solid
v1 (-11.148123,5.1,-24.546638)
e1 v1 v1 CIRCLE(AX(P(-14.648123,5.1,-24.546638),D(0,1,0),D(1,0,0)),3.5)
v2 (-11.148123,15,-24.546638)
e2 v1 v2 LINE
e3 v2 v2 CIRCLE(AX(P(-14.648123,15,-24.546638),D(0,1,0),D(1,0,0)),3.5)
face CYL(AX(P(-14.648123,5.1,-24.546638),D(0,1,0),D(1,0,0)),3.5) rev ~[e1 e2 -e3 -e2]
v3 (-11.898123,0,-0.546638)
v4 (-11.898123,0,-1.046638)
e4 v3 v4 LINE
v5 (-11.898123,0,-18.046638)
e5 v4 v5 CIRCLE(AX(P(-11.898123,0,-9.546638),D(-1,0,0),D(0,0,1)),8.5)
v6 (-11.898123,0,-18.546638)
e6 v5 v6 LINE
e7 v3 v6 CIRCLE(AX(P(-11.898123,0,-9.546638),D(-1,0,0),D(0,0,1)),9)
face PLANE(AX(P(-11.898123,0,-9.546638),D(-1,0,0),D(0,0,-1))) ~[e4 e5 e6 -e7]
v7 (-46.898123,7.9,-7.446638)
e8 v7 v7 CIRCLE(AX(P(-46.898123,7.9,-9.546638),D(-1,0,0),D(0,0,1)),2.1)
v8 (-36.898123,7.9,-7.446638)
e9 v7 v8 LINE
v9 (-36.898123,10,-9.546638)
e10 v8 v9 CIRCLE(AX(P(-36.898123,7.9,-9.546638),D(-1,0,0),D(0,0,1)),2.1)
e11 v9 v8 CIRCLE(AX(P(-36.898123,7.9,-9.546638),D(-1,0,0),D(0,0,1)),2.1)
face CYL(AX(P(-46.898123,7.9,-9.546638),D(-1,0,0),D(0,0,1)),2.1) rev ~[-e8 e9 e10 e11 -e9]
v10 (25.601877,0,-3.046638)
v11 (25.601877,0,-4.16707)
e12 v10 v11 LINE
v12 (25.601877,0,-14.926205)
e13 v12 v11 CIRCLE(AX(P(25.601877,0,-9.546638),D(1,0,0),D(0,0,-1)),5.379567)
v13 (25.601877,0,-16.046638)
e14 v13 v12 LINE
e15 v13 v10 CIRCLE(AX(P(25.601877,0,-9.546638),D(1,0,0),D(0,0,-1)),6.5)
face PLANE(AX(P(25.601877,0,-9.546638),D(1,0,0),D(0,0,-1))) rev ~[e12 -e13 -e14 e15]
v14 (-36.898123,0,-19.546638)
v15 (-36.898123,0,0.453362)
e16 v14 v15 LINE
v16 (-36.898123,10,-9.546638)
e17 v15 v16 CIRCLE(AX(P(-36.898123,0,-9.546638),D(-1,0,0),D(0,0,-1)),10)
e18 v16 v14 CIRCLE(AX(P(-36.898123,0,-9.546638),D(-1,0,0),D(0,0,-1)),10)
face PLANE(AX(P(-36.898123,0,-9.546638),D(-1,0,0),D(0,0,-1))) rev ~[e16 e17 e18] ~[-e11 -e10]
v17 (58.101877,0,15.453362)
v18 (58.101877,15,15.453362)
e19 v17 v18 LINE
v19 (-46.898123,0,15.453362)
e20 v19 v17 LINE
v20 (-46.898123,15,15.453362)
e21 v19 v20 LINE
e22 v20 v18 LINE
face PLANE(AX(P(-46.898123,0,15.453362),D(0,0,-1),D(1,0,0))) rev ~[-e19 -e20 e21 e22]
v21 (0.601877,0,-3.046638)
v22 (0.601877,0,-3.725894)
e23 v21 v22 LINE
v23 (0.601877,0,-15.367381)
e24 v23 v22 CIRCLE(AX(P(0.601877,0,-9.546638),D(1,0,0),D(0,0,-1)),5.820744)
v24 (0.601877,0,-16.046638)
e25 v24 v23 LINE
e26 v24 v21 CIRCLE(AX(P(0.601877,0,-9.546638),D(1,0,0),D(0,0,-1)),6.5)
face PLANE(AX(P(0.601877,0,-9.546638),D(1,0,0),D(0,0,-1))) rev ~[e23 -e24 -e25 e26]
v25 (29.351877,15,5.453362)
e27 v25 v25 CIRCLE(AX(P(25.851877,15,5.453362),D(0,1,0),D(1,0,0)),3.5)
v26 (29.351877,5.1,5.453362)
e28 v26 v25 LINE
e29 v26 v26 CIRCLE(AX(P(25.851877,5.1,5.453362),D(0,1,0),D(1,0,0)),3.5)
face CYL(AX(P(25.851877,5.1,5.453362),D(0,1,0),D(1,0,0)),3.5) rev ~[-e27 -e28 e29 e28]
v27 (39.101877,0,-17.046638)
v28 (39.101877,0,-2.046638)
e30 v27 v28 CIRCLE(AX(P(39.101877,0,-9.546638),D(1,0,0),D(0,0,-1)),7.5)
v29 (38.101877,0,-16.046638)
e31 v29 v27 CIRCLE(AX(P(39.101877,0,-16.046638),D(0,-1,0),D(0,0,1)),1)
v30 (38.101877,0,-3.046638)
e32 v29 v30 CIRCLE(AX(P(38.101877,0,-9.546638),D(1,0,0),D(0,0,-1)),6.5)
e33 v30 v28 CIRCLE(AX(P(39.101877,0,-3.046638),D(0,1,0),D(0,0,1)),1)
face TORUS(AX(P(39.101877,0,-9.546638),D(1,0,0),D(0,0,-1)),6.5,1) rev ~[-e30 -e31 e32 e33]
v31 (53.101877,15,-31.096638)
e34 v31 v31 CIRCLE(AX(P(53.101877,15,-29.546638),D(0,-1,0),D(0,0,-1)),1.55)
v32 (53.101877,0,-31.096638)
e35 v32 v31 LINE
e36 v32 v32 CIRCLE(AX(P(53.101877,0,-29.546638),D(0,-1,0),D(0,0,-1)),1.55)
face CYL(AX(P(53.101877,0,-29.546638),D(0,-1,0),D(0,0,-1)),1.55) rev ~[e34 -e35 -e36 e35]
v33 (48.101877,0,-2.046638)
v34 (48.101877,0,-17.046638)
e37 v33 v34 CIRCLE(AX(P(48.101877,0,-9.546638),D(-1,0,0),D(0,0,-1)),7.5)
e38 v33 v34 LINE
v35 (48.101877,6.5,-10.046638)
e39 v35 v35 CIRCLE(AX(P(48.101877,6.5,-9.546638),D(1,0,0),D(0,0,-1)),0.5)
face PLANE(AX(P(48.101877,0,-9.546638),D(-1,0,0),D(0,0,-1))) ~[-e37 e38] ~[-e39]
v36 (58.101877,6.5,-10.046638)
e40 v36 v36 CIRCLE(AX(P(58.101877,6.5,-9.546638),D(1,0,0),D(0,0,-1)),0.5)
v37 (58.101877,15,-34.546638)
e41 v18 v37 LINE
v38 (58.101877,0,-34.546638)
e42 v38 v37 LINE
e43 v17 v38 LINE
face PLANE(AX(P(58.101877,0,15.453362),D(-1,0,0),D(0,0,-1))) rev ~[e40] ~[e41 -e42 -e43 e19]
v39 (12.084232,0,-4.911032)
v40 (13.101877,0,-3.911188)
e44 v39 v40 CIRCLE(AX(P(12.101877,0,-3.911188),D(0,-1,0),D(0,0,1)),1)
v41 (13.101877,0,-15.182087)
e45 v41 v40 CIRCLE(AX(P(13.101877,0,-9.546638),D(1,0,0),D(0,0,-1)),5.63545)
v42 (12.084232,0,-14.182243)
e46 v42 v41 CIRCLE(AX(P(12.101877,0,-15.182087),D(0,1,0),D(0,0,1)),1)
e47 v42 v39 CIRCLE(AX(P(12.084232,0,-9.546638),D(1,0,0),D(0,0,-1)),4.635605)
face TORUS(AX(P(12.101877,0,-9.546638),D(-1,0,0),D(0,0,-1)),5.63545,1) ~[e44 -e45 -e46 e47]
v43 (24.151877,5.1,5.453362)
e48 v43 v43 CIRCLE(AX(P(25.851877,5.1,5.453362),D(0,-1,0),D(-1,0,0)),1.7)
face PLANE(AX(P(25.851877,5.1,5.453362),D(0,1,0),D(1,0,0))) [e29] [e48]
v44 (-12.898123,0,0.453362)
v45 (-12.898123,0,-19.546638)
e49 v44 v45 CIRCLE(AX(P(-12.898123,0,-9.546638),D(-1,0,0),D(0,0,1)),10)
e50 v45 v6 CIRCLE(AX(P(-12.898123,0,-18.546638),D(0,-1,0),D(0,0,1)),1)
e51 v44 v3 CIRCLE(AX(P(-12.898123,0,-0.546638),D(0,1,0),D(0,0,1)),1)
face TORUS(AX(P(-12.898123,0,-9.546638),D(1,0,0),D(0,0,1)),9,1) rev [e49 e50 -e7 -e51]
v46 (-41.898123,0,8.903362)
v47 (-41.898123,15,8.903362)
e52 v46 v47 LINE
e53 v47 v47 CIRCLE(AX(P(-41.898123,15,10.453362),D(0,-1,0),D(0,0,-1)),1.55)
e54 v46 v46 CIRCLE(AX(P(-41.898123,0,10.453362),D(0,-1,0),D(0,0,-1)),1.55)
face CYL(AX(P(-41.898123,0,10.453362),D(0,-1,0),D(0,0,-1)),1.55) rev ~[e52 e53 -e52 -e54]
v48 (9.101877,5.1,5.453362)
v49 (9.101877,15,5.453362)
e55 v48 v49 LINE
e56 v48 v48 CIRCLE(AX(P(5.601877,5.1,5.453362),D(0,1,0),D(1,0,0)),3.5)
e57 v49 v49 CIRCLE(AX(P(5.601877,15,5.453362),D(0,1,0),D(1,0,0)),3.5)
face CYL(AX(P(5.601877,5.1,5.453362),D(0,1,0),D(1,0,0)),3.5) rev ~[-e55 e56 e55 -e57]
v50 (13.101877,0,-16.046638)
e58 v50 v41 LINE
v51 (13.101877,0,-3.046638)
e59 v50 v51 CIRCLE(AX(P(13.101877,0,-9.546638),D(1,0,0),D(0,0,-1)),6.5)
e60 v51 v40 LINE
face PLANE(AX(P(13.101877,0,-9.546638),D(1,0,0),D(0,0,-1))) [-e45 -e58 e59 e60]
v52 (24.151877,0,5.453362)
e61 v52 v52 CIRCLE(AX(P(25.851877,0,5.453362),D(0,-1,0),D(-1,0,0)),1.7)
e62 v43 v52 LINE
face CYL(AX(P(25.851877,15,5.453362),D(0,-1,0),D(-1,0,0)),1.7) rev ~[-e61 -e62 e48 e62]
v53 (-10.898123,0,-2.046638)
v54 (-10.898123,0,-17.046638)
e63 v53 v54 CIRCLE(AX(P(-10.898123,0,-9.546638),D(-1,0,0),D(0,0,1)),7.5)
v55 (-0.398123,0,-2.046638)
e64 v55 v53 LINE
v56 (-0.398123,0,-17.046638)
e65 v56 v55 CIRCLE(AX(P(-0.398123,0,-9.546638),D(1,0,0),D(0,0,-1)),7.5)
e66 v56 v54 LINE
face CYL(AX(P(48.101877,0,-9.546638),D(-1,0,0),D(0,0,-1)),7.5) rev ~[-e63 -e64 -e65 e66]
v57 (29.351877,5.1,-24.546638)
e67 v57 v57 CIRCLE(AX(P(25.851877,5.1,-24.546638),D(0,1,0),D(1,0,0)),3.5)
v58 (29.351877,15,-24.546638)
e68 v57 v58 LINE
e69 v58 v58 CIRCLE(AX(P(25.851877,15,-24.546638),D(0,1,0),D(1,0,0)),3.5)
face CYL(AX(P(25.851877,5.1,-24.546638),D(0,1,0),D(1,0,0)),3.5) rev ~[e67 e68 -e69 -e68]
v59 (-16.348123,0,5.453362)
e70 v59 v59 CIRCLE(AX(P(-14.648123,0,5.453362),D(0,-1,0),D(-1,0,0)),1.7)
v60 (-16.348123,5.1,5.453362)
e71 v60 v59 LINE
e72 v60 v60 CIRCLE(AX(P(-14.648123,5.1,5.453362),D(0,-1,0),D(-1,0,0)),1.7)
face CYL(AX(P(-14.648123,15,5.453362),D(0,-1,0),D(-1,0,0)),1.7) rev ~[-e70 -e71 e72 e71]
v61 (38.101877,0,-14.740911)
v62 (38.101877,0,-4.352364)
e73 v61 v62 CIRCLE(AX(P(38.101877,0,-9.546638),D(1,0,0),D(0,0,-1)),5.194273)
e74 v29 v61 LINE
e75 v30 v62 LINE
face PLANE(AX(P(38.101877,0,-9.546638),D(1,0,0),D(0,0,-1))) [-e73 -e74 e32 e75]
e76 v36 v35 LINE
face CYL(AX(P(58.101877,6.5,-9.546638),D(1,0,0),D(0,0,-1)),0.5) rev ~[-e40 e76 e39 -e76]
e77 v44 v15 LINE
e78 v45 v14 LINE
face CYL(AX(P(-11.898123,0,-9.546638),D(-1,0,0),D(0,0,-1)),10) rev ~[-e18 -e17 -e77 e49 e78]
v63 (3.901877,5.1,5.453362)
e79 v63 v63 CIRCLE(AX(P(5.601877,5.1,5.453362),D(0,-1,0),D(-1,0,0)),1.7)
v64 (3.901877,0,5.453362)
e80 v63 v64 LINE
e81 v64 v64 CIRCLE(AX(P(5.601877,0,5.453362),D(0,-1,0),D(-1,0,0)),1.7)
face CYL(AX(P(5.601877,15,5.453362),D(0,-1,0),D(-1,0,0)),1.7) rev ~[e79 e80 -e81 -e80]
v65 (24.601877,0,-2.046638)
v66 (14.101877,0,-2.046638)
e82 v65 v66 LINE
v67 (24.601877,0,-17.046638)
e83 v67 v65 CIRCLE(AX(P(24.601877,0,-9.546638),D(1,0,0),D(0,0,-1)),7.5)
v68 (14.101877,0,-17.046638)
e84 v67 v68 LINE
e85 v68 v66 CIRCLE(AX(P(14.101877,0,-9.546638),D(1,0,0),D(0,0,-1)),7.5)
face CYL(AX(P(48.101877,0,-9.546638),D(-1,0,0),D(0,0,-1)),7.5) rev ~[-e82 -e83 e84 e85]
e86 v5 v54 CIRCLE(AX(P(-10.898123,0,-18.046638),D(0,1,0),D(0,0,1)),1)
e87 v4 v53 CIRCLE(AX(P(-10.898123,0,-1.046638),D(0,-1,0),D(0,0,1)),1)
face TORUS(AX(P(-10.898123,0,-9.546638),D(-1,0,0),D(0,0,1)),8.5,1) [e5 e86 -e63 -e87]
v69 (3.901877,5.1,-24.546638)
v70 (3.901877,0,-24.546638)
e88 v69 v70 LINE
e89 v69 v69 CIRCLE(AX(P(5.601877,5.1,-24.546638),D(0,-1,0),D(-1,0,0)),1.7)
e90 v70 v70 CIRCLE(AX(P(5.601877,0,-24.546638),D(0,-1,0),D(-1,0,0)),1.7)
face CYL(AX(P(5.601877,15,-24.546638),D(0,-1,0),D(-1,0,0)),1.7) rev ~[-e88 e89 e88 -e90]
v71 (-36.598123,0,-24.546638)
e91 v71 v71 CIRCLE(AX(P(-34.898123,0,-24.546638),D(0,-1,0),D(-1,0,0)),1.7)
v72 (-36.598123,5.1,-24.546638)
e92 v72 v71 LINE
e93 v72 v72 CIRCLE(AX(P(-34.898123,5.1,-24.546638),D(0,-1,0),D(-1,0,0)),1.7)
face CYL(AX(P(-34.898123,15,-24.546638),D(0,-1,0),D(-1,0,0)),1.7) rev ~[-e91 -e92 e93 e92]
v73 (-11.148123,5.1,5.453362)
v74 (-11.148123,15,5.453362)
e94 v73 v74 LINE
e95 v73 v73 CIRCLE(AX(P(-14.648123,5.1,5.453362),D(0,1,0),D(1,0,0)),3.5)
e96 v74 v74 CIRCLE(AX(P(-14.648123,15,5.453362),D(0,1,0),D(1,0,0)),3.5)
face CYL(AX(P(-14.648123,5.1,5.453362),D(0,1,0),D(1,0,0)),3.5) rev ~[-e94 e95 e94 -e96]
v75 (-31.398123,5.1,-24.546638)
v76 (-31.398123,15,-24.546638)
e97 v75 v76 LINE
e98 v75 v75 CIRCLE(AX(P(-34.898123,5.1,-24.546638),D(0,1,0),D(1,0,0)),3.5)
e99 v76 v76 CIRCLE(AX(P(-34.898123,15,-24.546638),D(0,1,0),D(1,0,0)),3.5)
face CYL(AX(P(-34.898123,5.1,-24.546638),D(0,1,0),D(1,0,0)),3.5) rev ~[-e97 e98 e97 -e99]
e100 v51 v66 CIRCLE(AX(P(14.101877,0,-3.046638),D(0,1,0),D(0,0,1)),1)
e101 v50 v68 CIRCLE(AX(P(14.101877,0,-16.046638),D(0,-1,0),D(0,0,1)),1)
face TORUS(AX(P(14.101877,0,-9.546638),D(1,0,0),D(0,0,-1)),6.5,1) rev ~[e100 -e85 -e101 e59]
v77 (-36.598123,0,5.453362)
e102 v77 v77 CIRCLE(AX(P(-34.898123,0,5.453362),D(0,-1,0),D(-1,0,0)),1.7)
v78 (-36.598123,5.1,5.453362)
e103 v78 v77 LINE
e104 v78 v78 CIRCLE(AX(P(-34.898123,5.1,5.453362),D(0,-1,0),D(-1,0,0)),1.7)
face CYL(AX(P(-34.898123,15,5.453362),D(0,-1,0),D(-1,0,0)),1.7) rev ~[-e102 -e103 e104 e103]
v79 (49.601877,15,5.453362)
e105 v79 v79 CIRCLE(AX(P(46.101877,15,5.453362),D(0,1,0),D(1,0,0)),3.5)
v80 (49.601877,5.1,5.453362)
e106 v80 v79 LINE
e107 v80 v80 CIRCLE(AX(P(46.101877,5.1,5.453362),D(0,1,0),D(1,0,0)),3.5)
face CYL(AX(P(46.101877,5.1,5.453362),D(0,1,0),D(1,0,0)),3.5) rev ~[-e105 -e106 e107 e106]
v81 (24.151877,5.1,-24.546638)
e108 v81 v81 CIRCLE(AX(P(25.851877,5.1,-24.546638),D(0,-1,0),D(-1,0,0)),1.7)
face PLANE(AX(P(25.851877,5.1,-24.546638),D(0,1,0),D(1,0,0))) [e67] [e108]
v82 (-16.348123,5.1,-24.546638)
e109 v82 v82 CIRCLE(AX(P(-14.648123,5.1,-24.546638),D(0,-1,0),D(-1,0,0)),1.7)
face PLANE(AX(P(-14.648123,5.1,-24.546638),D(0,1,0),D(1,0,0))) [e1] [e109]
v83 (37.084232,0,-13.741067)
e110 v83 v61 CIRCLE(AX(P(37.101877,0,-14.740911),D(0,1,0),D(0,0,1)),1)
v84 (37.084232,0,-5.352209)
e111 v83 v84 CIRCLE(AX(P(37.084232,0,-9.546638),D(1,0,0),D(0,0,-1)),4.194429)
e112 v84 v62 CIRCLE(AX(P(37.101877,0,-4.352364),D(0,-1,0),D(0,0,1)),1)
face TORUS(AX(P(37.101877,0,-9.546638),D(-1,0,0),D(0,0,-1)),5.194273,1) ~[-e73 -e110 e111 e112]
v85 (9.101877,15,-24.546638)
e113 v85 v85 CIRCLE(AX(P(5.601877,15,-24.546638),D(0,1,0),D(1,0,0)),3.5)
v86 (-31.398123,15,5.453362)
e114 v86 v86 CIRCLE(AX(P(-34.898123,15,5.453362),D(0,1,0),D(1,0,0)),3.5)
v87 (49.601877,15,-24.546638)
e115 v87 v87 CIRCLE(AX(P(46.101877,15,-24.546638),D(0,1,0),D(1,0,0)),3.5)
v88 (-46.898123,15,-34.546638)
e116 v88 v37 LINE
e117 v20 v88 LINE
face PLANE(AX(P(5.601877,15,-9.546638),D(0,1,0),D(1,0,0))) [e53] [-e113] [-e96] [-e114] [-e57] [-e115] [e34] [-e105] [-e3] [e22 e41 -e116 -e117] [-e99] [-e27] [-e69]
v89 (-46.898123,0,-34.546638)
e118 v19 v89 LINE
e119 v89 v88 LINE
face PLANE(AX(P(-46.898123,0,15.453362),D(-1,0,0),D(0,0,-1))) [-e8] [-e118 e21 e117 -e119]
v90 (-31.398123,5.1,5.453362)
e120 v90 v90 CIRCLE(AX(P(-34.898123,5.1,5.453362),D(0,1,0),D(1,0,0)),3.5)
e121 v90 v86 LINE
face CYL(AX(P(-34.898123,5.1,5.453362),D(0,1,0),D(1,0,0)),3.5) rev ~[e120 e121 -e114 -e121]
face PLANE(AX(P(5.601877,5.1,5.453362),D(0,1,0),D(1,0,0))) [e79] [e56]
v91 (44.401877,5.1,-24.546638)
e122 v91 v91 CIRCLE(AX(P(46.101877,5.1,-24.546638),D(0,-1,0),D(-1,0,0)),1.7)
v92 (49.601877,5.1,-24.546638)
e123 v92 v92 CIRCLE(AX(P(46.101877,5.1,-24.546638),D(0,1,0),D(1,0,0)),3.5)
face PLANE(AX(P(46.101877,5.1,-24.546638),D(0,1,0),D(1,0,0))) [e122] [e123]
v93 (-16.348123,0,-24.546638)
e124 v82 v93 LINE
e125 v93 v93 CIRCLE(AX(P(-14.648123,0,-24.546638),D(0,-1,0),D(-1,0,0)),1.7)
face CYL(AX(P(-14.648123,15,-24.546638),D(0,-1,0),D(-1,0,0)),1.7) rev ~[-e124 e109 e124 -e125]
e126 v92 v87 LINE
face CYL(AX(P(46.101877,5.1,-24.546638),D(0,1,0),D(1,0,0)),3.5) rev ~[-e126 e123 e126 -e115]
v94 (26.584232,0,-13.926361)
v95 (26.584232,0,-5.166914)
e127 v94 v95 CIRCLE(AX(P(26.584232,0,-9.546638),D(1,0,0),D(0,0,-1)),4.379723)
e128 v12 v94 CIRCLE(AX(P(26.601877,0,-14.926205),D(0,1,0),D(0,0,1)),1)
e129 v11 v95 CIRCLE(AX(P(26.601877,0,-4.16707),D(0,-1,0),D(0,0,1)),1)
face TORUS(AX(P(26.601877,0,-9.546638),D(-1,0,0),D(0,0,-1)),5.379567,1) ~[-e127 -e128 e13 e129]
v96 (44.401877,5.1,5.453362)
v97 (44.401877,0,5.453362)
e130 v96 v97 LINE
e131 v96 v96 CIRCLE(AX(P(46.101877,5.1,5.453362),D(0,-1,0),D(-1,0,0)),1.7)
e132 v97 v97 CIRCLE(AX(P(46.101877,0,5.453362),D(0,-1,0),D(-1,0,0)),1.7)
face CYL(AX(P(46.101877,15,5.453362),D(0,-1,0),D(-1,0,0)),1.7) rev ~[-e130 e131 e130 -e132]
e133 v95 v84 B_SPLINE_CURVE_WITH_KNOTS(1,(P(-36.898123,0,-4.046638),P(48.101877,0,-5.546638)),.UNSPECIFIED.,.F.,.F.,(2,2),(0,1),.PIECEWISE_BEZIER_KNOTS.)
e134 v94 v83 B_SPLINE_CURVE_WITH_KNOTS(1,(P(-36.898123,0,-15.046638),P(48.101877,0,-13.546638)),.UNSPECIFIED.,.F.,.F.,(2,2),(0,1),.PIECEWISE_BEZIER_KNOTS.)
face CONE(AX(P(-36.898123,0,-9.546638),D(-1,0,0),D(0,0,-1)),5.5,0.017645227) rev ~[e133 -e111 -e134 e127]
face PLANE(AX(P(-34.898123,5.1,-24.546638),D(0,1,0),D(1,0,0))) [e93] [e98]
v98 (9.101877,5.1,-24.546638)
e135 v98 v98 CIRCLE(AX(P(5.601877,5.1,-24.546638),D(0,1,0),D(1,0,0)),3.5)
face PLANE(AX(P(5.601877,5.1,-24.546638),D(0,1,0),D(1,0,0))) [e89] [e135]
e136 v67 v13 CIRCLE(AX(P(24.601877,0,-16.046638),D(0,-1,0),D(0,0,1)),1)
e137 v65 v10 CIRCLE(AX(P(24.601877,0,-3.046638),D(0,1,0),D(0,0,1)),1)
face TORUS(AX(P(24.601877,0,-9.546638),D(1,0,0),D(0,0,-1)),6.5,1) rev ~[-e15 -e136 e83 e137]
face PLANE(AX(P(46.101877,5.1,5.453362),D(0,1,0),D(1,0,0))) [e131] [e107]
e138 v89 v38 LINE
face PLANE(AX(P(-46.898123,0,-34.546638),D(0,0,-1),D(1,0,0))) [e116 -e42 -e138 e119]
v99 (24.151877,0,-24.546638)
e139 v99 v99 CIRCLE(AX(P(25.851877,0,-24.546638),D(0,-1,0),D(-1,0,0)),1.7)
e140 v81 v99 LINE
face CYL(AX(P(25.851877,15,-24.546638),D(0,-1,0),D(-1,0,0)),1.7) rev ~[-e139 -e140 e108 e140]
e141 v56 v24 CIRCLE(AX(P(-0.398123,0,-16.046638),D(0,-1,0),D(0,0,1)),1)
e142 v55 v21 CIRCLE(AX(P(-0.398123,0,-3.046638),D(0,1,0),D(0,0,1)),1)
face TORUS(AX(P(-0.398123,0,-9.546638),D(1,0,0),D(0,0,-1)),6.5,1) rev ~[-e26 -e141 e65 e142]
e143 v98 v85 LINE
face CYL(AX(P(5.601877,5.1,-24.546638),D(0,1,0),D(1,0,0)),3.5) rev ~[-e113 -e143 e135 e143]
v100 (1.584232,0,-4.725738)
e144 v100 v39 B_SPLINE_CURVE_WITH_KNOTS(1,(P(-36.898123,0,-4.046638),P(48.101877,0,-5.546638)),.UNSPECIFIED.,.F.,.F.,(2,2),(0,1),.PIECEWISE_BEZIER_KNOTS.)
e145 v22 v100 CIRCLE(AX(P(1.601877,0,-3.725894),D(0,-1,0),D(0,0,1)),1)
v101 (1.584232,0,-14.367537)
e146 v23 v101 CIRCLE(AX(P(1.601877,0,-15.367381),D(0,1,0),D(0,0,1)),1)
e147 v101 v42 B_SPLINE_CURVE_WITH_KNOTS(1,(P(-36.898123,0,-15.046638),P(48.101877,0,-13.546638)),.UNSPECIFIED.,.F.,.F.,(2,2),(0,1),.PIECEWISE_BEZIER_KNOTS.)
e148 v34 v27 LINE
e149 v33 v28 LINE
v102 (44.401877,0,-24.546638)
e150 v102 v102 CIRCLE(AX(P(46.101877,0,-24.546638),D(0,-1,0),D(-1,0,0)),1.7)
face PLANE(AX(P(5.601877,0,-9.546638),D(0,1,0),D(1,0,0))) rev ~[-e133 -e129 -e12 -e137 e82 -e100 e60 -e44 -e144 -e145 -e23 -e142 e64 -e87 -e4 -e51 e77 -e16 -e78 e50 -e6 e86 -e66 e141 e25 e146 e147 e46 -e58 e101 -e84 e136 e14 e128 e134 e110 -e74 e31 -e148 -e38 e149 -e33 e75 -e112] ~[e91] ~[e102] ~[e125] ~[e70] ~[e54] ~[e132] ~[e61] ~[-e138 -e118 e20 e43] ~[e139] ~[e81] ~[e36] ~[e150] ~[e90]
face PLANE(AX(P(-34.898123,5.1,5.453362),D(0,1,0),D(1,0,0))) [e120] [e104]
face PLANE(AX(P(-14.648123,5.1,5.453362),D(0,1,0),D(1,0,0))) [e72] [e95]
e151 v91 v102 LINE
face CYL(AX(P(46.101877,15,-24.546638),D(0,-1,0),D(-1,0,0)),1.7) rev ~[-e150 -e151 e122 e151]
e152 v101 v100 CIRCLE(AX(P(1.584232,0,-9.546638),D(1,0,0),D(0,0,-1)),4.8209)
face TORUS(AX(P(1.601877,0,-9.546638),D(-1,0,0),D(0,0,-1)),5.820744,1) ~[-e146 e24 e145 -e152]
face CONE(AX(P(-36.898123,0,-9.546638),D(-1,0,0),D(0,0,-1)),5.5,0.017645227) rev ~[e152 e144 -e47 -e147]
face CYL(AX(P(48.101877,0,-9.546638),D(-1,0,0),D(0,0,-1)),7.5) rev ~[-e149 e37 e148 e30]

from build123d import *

# Parameters (mm, degrees)
SKETCH2_W                                            = 105
SKETCH2_H                                            = 50
BOSS_EXTRUDE1_DEPTH                                  = 15
SKIZZE7_R                                            = 2.1
SCHNITT_LINEAR_AUSTRAGEN6_DEPTH                      = 10
SKIZZE10_W                                           = 12.5
SKIZZE10_H                                           = 4
ROTATION3_ANGLE                                      = 180
SKIZZE11_W                                           = 12.5
SKIZZE11_H                                           = 4
ROTATION4_ANGLE                                      = 180
CUT_EXTRUDE2_REACH                                   = 113.55
SKETCH5_R                                            = 0.5
SKIZZE14_R                                           = 5.5
SKIZZE15_R                                           = 4
VERRUNDUNG1_R                                        = 1
AUSRICHTUNGSSTIFTE_REACH                             = 71.241
SKIZZE20_R                                           = 1.55
STIRNSENKUNG_F_R_M3_FLACHKOPFSCHRAUBE_MI_D           = 3.4
STIRNSENKUNG_F_R_M3_FLACHKOPFSCHRAUBE_MI_CBORE_D     = 7
STIRNSENKUNG_F_R_M3_FLACHKOPFSCHRAUBE_MI_CBORE_DEPTH = 9.9


with BuildPart() as part:
    # Sketch2 → Boss-Extrude1 (new body)
    with BuildSketch(Plane(origin=(0, 0, 0), x_dir=(1, 0, 0), z_dir=(0, 1, 0))):
        with Locations((5.601876656, 9.54663752)):
            Rectangle(SKETCH2_W, SKETCH2_H)
    extrude(amount=BOSS_EXTRUDE1_DEPTH)

    # Skizze7 → Schnitt-Linear austragen6 (cut)
    with BuildSketch(Plane.ZY.offset(46.898123344)):
        with Locations((-9.54663752, 7.9)):
            Circle(SKIZZE7_R)
    extrude(amount=-SCHNITT_LINEAR_AUSTRAGEN6_DEPTH, mode=Mode.SUBTRACT)

    # Sketch3 → Schnitt-Rotation1 (revolve, cut)
    with BuildSketch(Plane(origin=(0, 0, 0), x_dir=(1, 0, 0), z_dir=(0, 1, 0))):
        Polygon((48.101876656, 9.54663752), (48.101876656, 17.04663752), (-11.898123344, 17.04663752), (-11.898123344, 19.54663752), (-36.898123344, 19.54663752), (-36.898123344, 9.54663752), align=None)
    revolve(axis=Axis((74.354835368, 0, -9.54663752), (-1, 0, 0)), mode=Mode.SUBTRACT)

    # Skizze10 → Rotation3 (revolve)
    with BuildSketch(Plane.XZ):
        with Locations((31.851876656, -15.04663752)):
            Rectangle(SKIZZE10_W, SKIZZE10_H)
    revolve(axis=Axis((85.744816074, 0, -9.54663752), (1, 0, 0)), revolution_arc=ROTATION3_ANGLE)

    # Skizze11 → Rotation4 (revolve)
    with BuildSketch(Plane.XZ):
        with Locations((6.851876656, -15.04663752)):
            Rectangle(SKIZZE11_W, SKIZZE11_H)
    revolve(axis=Axis((95.037830494, 0, -9.54663752), (1, 0, 0)), revolution_arc=ROTATION4_ANGLE)

    # Sketch5 → Cut-Extrude2 (cut, up to next)
    with BuildSketch(Plane(origin=(58.101876656, 0, 0), x_dir=(0, 0, -1), z_dir=(1, 0, 0)), mode=Mode.PRIVATE) as cut_extrude2_sk1:
        with Locations((9.54663752, 6.5)):
            Circle(SKETCH5_R)
    cut_extrude2_tool1 = extrude(cut_extrude2_sk1.sketch, amount=-CUT_EXTRUDE2_REACH, mode=Mode.PRIVATE) & part.part
    add(cut_extrude2_tool1.solids().sort_by_distance((58.101877, 6.5, -9.546638))[0], mode=Mode.SUBTRACT)

    # Skizze14 → Schnitt-Ausformung1 section 0
    with BuildSketch(Plane(origin=(-36.898123344, 0, 0), x_dir=(0, 0, -1), z_dir=(1, 0, 0))):
        with Locations((9.54663752, 0)):
            Circle(SKIZZE14_R)
    # Skizze15 → Schnitt-Ausformung1 section 1
    with BuildSketch(Plane.ZY.offset(-48.101876656)):
        with Locations((-9.54663752, 0)):
            Circle(SKIZZE15_R)
    loft(mode=Mode.SUBTRACT)

    # Verrundung1
    verrundung1_edges = [part.edges().sort_by_distance(p)[0] for p in [
        (-11.898123344, 7.5, -9.54663752),
        (-11.898123344, 10, -9.54663752),
        (25.601876656, 7.5, -9.54663752),
        (38.101876656, 7.5, -9.54663752),
        (0.601876656, 7.5, -9.54663752),
        (13.101876656, 7.5, -9.54663752),
        (0.601876656, 4.838235294, -9.54663752),
        (13.101876656, 4.617647059, -9.54663752),
        (38.101876656, 4.176470588, -9.54663752),
        (25.601876656, 4.397058824, -9.54663752),
    ]]
    fillet(verrundung1_edges, radius=VERRUNDUNG1_R)

    # Skizze20 → Ausrichtungsstifte (cut, up to next)
    with BuildSketch(Plane.XZ, mode=Mode.PRIVATE) as ausrichtungsstifte_sk1:
        with Locations(Location((53.101876656, -29.54663752, 0), (0, 0, 270))):
            Circle(SKIZZE20_R)
    ausrichtungsstifte_tool1 = extrude(ausrichtungsstifte_sk1.sketch, amount=-AUSRICHTUNGSSTIFTE_REACH, mode=Mode.PRIVATE) & part.part
    # Skizze20 → Ausrichtungsstifte (cut, up to next)
    with BuildSketch(Plane.XZ, mode=Mode.PRIVATE) as ausrichtungsstifte_sk2:
        with Locations(Location((-41.898123344, 10.45336248, 0), (0, 0, 270))):
            Circle(SKIZZE20_R)
    ausrichtungsstifte_tool2 = extrude(ausrichtungsstifte_sk2.sketch, amount=-AUSRICHTUNGSSTIFTE_REACH, mode=Mode.PRIVATE) & part.part
    add(ausrichtungsstifte_tool1.solids().sort_by_distance((53.101877, 0, -29.546638))[0], mode=Mode.SUBTRACT)
    add(ausrichtungsstifte_tool2.solids().sort_by_distance((-41.898123, 0, 10.453362))[0], mode=Mode.SUBTRACT)

    # Stirnsenkung für M3 Flachkopfschraube mit Schlitz2 (through all)
    with Locations(Plane(origin=(0, 15, 0), x_dir=(1, 0, 0), z_dir=(0, 1, 0))):
        with Locations((46.101876656, 24.54663752), (25.851876656, 24.54663752), (5.601876656, 24.54663752), (-14.648123344, 24.54663752), (-34.898123344, 24.54663752), (25.851876656, -5.45336248), (5.601876656, -5.45336248), (-14.648123344, -5.45336248), (-34.898123344, -5.45336248), (46.101876656, -5.45336248)):
            CounterBoreHole(STIRNSENKUNG_F_R_M3_FLACHKOPFSCHRAUBE_MI_D / 2, STIRNSENKUNG_F_R_M3_FLACHKOPFSCHRAUBE_MI_CBORE_D / 2, STIRNSENKUNG_F_R_M3_FLACHKOPFSCHRAUBE_MI_CBORE_DEPTH)


solid = part.part
